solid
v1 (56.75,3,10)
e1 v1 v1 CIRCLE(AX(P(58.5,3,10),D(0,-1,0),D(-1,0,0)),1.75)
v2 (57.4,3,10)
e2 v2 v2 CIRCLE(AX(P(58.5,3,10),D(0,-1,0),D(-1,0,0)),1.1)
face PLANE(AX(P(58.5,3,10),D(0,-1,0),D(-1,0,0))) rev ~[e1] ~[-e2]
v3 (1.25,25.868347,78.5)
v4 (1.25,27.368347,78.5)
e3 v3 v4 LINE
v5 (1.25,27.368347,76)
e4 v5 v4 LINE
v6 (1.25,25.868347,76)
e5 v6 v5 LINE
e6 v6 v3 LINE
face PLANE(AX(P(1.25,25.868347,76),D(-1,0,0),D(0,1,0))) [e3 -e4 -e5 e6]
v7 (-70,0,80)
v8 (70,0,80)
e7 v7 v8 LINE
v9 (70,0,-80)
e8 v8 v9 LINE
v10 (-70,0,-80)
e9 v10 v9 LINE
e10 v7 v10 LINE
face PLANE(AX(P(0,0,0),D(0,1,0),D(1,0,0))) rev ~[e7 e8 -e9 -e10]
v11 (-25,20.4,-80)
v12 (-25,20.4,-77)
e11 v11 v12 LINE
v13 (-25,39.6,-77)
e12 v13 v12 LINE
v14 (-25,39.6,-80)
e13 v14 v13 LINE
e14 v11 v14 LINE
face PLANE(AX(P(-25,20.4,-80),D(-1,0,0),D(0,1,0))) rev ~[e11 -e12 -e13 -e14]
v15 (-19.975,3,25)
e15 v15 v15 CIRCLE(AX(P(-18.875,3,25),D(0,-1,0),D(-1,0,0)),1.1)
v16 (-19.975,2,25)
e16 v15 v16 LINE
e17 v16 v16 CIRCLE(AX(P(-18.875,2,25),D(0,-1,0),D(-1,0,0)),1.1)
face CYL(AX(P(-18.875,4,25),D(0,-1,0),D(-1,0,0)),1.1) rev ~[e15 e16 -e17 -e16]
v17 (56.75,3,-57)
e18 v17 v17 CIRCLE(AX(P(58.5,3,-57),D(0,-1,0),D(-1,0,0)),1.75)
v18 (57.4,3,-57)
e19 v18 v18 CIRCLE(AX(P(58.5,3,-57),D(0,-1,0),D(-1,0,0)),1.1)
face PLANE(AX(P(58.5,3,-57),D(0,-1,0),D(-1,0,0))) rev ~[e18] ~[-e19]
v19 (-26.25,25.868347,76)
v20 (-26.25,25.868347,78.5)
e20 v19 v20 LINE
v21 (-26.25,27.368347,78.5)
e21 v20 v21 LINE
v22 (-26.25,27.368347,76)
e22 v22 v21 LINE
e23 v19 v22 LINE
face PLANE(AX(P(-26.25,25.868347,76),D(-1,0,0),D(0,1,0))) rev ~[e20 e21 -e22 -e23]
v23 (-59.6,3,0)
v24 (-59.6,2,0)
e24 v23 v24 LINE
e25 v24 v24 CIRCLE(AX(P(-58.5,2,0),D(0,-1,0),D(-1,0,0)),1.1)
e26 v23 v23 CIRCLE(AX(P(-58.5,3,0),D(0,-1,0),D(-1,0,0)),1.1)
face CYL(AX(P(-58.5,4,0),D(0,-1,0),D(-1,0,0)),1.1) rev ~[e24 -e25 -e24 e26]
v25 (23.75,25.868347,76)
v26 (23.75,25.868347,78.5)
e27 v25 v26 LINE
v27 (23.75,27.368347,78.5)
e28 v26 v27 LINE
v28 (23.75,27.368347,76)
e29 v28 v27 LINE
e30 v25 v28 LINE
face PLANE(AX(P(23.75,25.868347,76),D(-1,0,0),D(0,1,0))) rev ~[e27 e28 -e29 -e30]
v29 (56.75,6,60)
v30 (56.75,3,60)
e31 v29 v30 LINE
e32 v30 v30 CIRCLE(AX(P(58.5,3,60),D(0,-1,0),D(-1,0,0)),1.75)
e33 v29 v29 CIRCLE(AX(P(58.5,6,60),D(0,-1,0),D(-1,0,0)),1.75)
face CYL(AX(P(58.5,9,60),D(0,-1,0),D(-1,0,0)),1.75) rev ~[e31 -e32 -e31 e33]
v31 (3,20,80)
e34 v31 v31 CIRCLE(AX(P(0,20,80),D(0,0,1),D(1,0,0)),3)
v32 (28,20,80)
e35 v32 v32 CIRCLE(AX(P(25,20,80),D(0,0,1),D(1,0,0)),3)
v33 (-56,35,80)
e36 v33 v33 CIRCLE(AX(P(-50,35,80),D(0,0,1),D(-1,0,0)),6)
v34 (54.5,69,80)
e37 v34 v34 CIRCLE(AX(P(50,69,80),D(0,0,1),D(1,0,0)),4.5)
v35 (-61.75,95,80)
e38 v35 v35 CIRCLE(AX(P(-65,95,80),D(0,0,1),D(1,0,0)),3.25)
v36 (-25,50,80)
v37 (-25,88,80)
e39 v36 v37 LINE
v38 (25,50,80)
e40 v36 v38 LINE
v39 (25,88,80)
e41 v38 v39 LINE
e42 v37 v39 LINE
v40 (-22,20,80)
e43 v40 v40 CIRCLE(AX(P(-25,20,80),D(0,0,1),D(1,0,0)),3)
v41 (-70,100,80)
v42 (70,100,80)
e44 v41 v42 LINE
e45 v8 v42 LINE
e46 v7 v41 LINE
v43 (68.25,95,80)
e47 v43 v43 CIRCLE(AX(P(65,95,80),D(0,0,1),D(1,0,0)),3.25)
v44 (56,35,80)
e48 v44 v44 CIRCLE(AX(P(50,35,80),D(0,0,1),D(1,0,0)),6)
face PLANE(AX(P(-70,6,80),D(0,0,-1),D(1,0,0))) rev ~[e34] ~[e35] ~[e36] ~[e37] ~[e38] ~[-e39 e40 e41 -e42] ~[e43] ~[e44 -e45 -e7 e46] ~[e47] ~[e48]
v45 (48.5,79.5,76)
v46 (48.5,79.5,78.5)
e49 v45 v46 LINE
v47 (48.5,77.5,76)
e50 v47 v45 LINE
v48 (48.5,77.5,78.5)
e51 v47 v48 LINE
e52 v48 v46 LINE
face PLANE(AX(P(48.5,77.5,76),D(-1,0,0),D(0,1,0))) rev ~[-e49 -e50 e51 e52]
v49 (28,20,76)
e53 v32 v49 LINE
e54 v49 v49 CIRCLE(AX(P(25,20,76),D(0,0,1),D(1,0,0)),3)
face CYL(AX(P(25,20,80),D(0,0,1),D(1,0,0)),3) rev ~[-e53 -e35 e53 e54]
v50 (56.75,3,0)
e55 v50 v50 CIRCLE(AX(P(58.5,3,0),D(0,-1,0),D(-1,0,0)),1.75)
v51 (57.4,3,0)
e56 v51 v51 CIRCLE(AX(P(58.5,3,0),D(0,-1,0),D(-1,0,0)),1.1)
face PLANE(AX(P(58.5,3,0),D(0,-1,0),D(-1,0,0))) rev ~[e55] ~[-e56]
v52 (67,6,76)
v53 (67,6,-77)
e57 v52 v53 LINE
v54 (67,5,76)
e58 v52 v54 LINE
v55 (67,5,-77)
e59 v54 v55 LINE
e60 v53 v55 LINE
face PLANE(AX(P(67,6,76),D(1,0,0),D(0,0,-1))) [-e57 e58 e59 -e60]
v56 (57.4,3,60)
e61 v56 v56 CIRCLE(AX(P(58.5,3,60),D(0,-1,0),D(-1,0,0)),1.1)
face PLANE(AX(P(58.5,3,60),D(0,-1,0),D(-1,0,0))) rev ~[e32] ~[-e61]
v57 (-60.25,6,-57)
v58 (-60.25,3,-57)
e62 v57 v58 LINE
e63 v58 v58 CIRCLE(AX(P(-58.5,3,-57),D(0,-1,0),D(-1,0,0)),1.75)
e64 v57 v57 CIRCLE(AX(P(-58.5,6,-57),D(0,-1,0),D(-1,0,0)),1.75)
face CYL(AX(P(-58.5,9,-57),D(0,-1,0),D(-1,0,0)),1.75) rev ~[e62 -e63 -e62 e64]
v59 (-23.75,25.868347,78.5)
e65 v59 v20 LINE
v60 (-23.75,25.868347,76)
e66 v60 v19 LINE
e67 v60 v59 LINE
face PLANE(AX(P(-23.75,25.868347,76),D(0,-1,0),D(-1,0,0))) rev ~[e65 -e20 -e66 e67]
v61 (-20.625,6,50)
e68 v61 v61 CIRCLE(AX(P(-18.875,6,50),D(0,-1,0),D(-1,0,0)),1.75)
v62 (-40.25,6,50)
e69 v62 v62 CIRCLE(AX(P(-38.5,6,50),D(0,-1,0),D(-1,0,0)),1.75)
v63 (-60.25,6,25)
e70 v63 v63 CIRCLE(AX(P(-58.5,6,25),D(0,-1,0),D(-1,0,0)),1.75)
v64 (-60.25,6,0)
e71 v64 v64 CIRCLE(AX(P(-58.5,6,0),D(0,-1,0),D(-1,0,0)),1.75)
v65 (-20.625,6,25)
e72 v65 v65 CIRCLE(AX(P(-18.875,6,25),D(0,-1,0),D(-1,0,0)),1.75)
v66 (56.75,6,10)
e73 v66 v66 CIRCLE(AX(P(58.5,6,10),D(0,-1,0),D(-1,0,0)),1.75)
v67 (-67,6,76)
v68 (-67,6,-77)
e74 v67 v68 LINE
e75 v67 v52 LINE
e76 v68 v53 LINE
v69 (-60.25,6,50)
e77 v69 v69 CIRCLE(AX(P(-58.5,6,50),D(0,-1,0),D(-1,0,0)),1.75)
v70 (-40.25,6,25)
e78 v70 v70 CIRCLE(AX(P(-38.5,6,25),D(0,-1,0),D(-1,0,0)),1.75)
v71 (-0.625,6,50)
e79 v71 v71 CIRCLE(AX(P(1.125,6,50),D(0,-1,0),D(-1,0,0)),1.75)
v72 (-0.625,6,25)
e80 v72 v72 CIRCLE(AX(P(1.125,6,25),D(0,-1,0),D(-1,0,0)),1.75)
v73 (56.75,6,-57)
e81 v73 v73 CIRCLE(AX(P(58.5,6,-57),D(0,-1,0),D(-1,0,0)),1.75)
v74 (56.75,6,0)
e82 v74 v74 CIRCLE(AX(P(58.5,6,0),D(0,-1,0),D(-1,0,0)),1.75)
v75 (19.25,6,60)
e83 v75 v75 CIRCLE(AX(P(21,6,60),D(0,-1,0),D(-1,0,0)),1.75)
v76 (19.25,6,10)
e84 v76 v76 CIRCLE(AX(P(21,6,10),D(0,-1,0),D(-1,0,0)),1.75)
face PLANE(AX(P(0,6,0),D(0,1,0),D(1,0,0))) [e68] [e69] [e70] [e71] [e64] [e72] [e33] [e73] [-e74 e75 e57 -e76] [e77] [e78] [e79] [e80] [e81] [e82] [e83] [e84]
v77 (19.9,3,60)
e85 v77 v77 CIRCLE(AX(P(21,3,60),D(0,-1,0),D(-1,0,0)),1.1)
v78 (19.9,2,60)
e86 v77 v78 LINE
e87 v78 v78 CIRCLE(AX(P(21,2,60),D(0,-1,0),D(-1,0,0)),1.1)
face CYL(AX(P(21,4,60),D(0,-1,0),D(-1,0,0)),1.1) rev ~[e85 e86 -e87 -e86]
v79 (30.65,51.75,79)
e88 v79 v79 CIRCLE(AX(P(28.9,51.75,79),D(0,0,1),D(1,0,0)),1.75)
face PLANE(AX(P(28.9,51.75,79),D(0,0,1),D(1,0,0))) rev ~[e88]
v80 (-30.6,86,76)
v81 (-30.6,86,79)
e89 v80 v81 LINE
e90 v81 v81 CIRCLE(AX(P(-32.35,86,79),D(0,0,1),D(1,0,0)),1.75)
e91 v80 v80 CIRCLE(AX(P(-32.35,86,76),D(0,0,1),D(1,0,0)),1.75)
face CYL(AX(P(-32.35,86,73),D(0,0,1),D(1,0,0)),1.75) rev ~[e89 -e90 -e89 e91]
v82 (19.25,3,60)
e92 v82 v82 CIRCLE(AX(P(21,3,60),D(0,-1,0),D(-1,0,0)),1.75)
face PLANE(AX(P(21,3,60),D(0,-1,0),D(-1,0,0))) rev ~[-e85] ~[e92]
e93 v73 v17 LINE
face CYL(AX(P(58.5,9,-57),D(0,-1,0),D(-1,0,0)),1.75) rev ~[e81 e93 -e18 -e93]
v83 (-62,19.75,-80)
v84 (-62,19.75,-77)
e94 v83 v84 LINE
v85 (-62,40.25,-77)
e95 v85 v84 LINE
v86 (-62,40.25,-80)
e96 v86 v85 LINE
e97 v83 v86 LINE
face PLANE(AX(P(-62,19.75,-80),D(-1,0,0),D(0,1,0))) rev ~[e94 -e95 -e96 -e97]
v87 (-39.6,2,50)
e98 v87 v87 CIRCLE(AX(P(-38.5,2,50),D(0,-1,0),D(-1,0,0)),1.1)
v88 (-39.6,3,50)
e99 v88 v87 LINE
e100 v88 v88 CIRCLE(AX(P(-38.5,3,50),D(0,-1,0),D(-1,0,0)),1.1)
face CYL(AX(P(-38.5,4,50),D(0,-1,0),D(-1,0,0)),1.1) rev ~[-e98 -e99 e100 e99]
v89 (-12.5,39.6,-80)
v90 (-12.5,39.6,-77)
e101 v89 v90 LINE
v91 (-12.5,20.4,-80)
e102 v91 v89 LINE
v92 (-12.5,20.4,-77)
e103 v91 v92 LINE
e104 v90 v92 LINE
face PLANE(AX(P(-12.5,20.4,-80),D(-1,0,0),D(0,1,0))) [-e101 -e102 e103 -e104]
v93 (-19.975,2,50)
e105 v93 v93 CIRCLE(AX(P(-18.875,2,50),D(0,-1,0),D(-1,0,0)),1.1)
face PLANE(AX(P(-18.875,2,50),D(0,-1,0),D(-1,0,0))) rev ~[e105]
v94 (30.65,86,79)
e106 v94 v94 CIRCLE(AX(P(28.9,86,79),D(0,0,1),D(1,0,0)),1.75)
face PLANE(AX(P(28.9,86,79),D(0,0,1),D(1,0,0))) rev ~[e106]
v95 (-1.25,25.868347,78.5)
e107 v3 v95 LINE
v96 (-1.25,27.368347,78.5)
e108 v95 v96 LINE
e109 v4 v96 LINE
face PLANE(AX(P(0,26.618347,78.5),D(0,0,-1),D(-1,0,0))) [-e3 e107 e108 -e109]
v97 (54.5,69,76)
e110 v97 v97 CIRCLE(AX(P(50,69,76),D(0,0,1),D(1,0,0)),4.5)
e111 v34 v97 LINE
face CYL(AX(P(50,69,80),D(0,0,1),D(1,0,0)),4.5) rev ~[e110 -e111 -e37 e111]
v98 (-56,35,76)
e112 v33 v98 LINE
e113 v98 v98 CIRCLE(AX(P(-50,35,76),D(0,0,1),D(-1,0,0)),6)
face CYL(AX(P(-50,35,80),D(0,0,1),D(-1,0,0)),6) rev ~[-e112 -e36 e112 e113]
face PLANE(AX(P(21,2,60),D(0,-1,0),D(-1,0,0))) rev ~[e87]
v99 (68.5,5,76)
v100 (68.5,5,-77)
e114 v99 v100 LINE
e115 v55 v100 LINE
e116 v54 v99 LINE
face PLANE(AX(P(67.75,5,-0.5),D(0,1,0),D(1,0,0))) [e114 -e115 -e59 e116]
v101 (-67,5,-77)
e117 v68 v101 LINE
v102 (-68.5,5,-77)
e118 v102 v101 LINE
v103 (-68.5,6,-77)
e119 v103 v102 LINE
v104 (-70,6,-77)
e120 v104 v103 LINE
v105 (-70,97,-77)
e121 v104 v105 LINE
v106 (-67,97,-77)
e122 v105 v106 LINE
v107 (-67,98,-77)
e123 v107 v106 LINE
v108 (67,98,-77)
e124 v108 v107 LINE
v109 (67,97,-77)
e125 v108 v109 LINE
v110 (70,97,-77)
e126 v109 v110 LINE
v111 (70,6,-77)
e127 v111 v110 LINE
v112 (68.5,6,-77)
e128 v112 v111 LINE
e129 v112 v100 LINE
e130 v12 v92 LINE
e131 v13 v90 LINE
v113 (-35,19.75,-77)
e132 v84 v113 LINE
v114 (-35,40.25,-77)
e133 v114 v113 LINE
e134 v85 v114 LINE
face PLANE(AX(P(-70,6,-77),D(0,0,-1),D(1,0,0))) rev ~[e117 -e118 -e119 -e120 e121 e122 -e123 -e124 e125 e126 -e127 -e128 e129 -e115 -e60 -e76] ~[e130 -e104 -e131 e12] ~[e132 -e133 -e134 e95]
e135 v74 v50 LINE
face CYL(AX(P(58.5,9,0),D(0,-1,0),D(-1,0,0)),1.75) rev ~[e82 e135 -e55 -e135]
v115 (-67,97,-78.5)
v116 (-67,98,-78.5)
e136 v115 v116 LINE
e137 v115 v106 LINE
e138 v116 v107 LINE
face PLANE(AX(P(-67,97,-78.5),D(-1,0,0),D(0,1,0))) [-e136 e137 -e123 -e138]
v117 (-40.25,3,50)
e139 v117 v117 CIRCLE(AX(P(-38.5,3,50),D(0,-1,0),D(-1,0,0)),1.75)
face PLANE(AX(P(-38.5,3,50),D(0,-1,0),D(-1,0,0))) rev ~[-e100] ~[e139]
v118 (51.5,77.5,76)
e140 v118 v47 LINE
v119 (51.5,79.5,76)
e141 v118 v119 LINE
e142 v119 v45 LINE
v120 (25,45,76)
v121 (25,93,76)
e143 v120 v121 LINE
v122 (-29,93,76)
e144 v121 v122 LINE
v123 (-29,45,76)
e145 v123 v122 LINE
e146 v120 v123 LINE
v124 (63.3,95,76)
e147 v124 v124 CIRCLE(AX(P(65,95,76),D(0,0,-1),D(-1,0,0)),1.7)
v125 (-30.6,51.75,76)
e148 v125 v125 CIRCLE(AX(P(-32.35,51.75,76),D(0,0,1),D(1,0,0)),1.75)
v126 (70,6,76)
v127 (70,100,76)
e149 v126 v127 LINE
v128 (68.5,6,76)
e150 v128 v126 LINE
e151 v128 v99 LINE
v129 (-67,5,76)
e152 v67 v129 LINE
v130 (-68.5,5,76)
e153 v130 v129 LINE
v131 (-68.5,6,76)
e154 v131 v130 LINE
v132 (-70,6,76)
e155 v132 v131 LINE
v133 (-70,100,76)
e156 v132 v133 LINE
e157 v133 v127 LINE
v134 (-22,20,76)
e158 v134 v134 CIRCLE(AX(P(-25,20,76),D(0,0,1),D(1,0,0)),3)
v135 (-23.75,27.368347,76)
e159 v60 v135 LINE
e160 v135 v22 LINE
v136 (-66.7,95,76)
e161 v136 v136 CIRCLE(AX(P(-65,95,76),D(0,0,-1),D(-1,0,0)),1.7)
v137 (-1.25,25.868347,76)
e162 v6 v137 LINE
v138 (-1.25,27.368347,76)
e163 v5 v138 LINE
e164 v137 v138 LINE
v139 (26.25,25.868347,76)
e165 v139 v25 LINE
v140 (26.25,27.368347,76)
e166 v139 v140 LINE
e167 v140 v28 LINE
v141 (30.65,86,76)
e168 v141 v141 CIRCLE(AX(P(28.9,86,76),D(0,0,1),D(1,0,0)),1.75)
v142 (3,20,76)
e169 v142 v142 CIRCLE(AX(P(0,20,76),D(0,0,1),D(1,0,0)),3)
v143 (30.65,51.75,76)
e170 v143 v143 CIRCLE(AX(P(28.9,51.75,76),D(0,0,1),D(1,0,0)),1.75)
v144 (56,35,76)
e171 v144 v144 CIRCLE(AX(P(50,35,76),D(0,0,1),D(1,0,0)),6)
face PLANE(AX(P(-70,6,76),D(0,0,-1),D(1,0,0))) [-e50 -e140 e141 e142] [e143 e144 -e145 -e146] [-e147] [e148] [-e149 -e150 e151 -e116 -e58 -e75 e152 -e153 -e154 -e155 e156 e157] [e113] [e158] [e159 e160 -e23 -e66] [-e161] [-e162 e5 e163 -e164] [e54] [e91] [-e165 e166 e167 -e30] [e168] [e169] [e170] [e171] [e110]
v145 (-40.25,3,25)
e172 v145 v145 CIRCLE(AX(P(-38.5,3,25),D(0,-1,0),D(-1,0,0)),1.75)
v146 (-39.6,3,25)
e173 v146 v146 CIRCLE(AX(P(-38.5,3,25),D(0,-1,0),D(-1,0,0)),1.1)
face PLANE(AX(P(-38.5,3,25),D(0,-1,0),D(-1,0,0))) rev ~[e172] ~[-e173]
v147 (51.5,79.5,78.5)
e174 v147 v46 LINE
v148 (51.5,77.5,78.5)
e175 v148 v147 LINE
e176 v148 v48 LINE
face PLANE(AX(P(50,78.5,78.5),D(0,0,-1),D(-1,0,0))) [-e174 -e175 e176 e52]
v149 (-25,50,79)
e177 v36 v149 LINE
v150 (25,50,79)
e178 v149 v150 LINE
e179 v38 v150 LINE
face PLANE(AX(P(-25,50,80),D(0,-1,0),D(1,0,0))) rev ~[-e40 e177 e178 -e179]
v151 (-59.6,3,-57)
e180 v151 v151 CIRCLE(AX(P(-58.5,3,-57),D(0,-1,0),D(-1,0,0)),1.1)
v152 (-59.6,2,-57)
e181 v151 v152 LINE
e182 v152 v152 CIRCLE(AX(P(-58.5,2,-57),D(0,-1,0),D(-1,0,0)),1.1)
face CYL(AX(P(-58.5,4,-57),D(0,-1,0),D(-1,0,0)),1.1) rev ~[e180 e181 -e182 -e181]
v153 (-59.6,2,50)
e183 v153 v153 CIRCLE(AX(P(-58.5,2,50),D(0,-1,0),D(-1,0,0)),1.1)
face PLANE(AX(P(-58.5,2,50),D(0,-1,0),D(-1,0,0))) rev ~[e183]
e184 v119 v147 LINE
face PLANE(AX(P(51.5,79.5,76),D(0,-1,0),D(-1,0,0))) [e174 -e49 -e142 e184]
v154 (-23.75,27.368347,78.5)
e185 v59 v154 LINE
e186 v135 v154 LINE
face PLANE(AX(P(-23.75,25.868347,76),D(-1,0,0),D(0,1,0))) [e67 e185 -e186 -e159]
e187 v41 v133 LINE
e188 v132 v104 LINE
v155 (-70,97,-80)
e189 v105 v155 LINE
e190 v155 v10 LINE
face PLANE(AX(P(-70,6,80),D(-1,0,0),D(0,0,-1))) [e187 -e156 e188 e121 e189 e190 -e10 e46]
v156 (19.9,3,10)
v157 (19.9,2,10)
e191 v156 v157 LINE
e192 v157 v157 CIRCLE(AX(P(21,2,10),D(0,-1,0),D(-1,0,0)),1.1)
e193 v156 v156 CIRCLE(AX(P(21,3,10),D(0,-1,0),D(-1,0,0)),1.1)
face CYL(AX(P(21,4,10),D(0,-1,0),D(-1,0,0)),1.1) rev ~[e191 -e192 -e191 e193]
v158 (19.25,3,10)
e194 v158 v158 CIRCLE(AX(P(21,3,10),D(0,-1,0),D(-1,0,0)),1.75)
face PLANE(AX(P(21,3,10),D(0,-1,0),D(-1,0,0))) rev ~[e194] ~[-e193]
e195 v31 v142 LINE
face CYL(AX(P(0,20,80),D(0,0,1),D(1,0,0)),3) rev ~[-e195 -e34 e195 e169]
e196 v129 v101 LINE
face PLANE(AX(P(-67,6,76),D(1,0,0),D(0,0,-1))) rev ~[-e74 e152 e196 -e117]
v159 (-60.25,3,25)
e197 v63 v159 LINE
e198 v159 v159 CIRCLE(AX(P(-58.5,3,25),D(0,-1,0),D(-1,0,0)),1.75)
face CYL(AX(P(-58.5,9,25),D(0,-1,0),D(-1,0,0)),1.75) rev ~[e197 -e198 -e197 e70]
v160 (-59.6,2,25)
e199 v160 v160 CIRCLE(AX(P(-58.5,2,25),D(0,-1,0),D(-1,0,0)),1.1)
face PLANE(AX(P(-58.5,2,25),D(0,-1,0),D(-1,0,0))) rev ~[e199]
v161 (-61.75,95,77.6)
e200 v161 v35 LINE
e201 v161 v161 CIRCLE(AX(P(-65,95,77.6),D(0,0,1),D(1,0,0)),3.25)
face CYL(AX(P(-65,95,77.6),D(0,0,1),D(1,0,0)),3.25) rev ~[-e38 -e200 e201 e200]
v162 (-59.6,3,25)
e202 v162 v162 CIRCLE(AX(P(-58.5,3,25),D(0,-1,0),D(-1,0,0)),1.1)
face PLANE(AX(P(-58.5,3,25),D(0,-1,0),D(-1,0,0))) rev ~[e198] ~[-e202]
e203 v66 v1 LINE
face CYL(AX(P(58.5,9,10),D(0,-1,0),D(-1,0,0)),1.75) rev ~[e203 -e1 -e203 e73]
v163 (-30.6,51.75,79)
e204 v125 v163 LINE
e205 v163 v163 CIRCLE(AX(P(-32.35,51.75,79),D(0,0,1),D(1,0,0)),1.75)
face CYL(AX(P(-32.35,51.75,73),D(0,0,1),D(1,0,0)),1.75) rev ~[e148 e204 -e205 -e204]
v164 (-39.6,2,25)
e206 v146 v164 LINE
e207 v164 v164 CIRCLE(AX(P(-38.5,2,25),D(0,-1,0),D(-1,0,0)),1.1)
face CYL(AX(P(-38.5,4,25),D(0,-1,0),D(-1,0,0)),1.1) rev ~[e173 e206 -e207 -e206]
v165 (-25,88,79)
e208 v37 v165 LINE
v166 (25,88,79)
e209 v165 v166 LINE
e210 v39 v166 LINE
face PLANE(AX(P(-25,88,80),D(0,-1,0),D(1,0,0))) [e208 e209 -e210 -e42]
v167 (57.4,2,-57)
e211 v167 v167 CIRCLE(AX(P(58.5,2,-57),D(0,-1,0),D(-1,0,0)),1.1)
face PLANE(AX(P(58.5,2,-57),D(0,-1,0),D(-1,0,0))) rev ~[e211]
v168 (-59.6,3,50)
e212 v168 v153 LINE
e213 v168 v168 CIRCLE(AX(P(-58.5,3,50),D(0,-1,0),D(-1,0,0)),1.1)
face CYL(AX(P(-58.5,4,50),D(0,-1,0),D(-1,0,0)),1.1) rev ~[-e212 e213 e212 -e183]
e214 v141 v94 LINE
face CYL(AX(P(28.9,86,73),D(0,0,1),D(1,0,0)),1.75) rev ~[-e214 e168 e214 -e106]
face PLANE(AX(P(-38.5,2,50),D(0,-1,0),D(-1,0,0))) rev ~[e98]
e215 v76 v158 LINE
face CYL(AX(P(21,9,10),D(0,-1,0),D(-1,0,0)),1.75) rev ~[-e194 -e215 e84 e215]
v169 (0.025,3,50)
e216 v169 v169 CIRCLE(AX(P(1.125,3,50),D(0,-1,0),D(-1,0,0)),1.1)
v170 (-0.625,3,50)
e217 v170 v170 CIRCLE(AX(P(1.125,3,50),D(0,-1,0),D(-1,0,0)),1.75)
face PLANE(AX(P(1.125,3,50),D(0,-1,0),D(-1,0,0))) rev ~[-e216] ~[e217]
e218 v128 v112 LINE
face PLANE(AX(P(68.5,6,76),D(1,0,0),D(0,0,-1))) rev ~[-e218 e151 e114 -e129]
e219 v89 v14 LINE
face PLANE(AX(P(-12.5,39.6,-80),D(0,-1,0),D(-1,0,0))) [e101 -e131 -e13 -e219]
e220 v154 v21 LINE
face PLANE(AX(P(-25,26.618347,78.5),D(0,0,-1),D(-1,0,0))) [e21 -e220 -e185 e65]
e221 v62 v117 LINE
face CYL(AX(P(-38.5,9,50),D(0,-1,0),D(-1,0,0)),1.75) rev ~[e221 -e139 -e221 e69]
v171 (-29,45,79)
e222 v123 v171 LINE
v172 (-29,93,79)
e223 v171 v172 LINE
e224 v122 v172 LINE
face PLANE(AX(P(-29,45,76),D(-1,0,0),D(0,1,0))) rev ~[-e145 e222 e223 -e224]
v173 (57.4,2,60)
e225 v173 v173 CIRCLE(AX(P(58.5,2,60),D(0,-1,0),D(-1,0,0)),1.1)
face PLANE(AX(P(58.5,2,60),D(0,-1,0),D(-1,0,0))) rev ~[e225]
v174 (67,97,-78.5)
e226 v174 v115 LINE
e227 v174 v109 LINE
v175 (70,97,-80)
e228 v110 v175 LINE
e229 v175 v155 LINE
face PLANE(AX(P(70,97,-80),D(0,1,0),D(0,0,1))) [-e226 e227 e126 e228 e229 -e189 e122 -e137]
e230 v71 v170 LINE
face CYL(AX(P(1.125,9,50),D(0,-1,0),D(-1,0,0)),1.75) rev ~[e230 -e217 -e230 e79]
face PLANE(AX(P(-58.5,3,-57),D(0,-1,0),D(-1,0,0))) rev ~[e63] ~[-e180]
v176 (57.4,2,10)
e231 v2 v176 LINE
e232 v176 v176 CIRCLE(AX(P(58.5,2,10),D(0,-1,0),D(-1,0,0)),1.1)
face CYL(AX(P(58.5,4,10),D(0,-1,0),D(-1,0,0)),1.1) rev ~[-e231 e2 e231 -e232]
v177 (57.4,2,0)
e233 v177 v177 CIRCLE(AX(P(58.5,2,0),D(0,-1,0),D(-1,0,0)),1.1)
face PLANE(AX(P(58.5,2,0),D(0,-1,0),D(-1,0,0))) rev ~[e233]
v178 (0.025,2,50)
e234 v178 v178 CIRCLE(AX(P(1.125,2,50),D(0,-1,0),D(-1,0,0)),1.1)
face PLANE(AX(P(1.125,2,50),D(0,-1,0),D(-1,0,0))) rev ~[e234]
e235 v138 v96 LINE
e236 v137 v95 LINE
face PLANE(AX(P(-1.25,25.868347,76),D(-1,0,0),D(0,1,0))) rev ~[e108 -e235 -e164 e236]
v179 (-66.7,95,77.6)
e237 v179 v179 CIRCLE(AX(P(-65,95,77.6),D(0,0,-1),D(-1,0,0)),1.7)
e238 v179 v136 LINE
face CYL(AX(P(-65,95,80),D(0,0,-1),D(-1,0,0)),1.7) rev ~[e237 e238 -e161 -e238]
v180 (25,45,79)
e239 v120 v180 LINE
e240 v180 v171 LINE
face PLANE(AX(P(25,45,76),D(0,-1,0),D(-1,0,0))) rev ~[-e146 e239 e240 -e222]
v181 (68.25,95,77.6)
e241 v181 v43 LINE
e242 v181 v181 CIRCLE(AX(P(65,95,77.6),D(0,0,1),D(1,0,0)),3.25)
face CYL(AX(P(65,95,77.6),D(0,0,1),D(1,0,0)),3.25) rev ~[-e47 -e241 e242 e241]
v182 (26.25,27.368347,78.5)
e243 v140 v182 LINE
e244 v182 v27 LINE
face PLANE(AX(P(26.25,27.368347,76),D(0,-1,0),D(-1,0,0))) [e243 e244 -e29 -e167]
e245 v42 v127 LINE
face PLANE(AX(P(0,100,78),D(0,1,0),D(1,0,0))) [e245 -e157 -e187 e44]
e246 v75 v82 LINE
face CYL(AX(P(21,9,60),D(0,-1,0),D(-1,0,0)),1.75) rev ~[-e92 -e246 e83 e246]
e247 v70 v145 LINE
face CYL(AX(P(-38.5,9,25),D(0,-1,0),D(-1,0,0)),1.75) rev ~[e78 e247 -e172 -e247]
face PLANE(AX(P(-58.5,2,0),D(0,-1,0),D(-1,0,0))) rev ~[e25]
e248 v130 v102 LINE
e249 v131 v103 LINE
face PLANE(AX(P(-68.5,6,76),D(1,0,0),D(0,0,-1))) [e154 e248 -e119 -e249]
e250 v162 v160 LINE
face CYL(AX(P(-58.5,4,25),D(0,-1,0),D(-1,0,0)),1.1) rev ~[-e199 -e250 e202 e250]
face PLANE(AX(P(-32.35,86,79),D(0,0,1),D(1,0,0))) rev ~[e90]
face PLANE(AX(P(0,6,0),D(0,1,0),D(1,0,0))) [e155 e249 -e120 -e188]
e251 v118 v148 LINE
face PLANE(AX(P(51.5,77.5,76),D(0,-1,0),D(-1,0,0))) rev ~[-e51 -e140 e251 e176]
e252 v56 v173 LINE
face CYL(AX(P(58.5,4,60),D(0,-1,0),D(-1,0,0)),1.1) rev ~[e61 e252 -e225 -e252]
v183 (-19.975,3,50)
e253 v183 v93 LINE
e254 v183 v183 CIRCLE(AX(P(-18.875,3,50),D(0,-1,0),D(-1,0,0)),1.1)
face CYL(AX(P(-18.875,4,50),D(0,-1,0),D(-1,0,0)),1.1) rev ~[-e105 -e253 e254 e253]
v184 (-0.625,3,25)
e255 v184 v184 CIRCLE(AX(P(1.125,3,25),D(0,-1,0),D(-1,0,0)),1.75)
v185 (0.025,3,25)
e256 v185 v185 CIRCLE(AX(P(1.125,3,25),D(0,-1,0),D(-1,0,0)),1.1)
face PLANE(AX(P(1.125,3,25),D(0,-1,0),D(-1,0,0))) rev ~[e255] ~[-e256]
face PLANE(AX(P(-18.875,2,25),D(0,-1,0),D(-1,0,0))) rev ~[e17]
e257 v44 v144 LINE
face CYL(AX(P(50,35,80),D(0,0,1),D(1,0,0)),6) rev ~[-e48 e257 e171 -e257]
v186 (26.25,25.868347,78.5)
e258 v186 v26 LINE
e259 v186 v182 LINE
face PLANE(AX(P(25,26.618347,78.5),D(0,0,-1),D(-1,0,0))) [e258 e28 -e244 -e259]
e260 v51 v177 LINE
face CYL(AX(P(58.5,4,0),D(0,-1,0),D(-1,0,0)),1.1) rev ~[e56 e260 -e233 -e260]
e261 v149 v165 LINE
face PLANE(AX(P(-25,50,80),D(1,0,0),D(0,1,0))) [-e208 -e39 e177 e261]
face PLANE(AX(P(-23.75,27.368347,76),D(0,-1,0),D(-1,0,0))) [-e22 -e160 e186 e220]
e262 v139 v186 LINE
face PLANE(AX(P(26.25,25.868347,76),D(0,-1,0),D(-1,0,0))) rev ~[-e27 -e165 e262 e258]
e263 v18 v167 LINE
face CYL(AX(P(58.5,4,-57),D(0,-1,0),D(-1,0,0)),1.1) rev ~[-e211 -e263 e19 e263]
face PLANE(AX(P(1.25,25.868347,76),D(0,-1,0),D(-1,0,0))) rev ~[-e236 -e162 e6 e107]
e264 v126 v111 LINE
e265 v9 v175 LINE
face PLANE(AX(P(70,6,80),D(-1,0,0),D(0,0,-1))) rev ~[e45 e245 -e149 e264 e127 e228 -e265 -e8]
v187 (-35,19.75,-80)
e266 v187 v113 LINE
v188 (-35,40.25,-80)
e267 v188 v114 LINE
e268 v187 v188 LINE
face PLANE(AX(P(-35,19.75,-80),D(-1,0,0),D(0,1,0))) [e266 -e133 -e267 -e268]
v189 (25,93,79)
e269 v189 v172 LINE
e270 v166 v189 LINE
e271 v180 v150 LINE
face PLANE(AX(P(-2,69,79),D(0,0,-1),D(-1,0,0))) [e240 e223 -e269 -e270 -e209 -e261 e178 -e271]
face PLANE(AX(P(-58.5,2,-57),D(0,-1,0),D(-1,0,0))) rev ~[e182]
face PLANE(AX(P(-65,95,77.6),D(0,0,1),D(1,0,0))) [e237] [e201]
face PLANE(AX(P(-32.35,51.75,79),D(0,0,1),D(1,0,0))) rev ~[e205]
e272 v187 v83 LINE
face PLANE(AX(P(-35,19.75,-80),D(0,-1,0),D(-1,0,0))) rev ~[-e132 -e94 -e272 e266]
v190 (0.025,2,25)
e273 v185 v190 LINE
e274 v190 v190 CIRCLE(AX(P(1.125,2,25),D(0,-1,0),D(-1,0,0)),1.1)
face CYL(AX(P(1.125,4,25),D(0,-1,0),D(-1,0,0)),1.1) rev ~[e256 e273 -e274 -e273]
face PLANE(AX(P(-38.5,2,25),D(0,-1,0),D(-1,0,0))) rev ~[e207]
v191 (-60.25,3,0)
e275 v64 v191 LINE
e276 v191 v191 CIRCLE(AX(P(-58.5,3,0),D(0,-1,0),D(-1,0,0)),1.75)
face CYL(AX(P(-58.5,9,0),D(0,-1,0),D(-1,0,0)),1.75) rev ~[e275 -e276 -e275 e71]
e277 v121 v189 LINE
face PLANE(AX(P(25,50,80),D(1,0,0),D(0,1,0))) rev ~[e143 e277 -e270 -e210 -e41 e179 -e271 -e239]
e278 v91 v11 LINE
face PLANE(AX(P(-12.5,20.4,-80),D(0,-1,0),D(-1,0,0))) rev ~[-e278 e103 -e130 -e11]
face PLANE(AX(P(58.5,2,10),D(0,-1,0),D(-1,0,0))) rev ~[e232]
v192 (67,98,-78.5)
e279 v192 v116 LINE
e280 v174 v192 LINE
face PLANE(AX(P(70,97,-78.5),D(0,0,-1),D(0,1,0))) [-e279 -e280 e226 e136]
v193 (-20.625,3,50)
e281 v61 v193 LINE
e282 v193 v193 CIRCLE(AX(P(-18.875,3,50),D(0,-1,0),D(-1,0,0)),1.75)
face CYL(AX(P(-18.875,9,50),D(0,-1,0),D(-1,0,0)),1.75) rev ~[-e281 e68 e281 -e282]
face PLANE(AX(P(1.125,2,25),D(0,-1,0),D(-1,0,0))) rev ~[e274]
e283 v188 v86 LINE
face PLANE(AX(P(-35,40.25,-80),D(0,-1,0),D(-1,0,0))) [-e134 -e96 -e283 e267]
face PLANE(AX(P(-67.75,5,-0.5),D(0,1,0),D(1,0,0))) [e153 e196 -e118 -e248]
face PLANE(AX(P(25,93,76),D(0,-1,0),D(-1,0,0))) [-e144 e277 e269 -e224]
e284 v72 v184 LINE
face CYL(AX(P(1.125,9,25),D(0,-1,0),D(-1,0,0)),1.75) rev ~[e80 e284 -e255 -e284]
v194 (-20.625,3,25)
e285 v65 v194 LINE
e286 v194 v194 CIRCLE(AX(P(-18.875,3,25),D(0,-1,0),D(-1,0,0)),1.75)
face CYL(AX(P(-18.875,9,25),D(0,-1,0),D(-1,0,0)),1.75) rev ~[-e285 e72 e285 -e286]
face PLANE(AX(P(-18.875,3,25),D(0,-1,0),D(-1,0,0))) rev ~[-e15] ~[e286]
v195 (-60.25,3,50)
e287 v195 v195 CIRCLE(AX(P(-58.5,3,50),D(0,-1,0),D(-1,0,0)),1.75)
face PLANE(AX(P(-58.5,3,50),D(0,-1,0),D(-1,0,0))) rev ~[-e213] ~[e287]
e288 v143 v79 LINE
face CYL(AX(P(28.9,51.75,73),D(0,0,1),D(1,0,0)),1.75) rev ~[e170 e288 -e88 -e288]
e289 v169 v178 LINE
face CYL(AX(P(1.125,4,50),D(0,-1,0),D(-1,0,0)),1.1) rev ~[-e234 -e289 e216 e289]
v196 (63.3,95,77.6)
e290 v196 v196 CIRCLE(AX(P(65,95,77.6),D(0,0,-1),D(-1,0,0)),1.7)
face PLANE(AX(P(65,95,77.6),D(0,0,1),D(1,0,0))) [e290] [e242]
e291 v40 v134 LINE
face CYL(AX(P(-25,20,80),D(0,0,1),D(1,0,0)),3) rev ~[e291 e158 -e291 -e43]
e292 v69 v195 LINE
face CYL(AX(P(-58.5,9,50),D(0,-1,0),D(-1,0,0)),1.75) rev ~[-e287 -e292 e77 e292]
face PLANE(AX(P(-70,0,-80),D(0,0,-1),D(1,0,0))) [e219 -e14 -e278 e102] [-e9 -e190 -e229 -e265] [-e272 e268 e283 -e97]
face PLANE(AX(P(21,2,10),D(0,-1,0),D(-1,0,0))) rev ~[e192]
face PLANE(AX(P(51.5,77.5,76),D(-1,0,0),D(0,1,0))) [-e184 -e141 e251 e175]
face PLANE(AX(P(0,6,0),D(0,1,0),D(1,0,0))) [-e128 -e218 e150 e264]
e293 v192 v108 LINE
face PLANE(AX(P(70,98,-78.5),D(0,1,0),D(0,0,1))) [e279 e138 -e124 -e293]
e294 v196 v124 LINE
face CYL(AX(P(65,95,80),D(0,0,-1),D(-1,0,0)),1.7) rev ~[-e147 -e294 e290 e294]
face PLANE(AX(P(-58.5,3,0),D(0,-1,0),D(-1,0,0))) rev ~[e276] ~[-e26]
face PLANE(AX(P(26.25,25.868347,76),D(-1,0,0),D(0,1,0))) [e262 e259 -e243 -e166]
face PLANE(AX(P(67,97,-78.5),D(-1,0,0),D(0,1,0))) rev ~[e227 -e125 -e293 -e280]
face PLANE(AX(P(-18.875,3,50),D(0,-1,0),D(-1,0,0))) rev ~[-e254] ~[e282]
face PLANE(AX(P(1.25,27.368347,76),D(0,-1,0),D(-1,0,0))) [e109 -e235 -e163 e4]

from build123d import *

# Parameters (mm, degrees)
SKETCH_1_W                  = 140
SKETCH_1_H                  = 160
EXTRUDE_1_DEPTH             = 6
SKETCH_3_W                  = 140
SKETCH_3_H                  = 4
SKETCH_3_H_2                = 3
EXTRUDE_3_DEPTH             = 94
CUT_EXTRUDE_1_DEPTH         = 190.73665961
SKETCH_5_W                  = 1.5
SKETCH_5_H                  = 153
CUT_EXTRUDE_2_DEPTH         = 1
HOLE_WIZARD_M21_D           = 3.5
HOLE_WIZARD_M21_DEPTH       = 3
CUT_EXTRUDE_3_REACH         = 203.246
SKETCH_9_R                  = 3
SKETCH_9_R_2                = 4.5
SKETCH_9_R_3                = 6
SKETCH_9_W                  = 50
SKETCH_9_H                  = 38
SKETCH_10_W                 = 54
SKETCH_10_H                 = 48
CUT_EXTRUDE_4_DEPTH         = 3
SKETCH_11_W                 = 2.5
SKETCH_11_H                 = 1.5
SKETCH_11_W_2               = 3
SKETCH_11_H_2               = 2
CUT_EXTRUDE_5_DEPTH         = 2.5
HOLE_WIZARD_M31_D           = 3.4
HOLE_WIZARD_M31_DEPTH       = 4
HOLE_WIZARD_M31_CBORE_D     = 6.5
HOLE_WIZARD_M31_CBORE_DEPTH = 2.4
CUT_EXTRUDE_6_REACH         = 203.246
SKETCH_15_W                 = 12.5
SKETCH_15_H                 = 19.2
SKETCH_15_W_2               = 27
SKETCH_15_H_2               = 20.5
HOLE_WIZARD_M22_D           = 2.2
HOLE_WIZARD_M22_DEPTH       = 1
HOLE_WIZARD_M23_D           = 3.5
HOLE_WIZARD_M23_DEPTH       = 3
CUT_EXTRUDE_7_REACH         = 202.056
SKETCH_24_W                 = 3
SKETCH_24_H                 = 1


with BuildPart() as part:
    # Эскиз1 → Бобышка-Вытянуть1 (new body)
    with BuildSketch(Plane(origin=(0, 0, 0), x_dir=(1, 0, 0), z_dir=(0, 1, 0))):
        Rectangle(SKETCH_1_W, SKETCH_1_H)
    extrude(amount=EXTRUDE_1_DEPTH)

    # Эскиз3 → Бобышка-Вытянуть3 (add)
    with BuildSketch(Plane(origin=(0, 6, 0), x_dir=(1, 0, 0), z_dir=(0, 1, 0))):
        with Locations((0, -78)):
            Rectangle(SKETCH_3_W, SKETCH_3_H)
        with Locations((0, 78.5)):
            Rectangle(SKETCH_3_W, SKETCH_3_H_2)
    extrude(amount=EXTRUDE_3_DEPTH)

    # Эскиз4 → Вырез-Вытянуть1 (cut, through all)
    with BuildSketch(Plane(origin=(70, 0, 0), x_dir=(0, 0, -1), z_dir=(1, 0, 0))):
        Polygon((80, 100), (80, 97), (78.5, 97), (78.5, 98), (77, 98), (77, 100), align=None)
    extrude(amount=-CUT_EXTRUDE_1_DEPTH, mode=Mode.SUBTRACT)

    # Эскиз5 → Вырез-Вытянуть2 (cut)
    with BuildSketch(Plane(origin=(0, 6, 0), x_dir=(1, 0, 0), z_dir=(0, 1, 0))):
        with Locations((67.75, 0.5)):
            Rectangle(SKETCH_5_W, SKETCH_5_H)
        with Locations((-67.75, 0.5)):
            Rectangle(SKETCH_5_W, SKETCH_5_H)
    extrude(amount=-CUT_EXTRUDE_2_DEPTH, mode=Mode.SUBTRACT)

    # Отверстие с зазором M21
    with Locations(Plane(origin=(0, 6, 0), x_dir=(1, 0, 0), z_dir=(0, 1, 0))):
        with Locations((-58.5, -25), (-38.5, -25), (-38.5, -50), (-58.5, -50), (-18.875, -25), (1.125, -25), (-18.875, -50), (1.125, -50), (21, -10), (21, -60), (58.5, -60), (58.5, -10), (-58.5, 57), (-58.5, 0), (58.5, 0), (58.5, 57)):
            Hole(HOLE_WIZARD_M21_D / 2, depth=HOLE_WIZARD_M21_DEPTH)

    # Эскиз9 → Вырез-Вытянуть3 (cut, up to next)
    with BuildSketch(Plane.XY.offset(80), mode=Mode.PRIVATE) as cut_extrude_3_sk1:
        with Locations((-25, 20)):
            Circle(SKETCH_9_R)
    cut_extrude_3_tool1 = extrude(cut_extrude_3_sk1.sketch, amount=-CUT_EXTRUDE_3_REACH, mode=Mode.PRIVATE) & part.part
    # Эскиз9 → Вырез-Вытянуть3 (cut, up to next)
    with BuildSketch(Plane.XY.offset(80), mode=Mode.PRIVATE) as cut_extrude_3_sk2:
        with Locations((0, 20)):
            Circle(SKETCH_9_R)
    cut_extrude_3_tool2 = extrude(cut_extrude_3_sk2.sketch, amount=-CUT_EXTRUDE_3_REACH, mode=Mode.PRIVATE) & part.part
    # Эскиз9 → Вырез-Вытянуть3 (cut, up to next)
    with BuildSketch(Plane.XY.offset(80), mode=Mode.PRIVATE) as cut_extrude_3_sk3:
        with Locations((25, 20)):
            Circle(SKETCH_9_R)
    cut_extrude_3_tool3 = extrude(cut_extrude_3_sk3.sketch, amount=-CUT_EXTRUDE_3_REACH, mode=Mode.PRIVATE) & part.part
    # Эскиз9 → Вырез-Вытянуть3 (cut, up to next)
    with BuildSketch(Plane.XY.offset(80), mode=Mode.PRIVATE) as cut_extrude_3_sk4:
        with Locations((50, 69)):
            Circle(SKETCH_9_R_2)
    cut_extrude_3_tool4 = extrude(cut_extrude_3_sk4.sketch, amount=-CUT_EXTRUDE_3_REACH, mode=Mode.PRIVATE) & part.part
    # Эскиз9 → Вырез-Вытянуть3 (cut, up to next)
    with BuildSketch(Plane.XY.offset(80), mode=Mode.PRIVATE) as cut_extrude_3_sk5:
        with Locations((50, 35)):
            Circle(SKETCH_9_R_3)
    cut_extrude_3_tool5 = extrude(cut_extrude_3_sk5.sketch, amount=-CUT_EXTRUDE_3_REACH, mode=Mode.PRIVATE) & part.part
    # Эскиз9 → Вырез-Вытянуть3 (cut, up to next)
    with BuildSketch(Plane.XY.offset(80), mode=Mode.PRIVATE) as cut_extrude_3_sk6:
        with Locations(Location((-50, 35, 0), (0, 0, 180))):
            Circle(SKETCH_9_R_3)
    cut_extrude_3_tool6 = extrude(cut_extrude_3_sk6.sketch, amount=-CUT_EXTRUDE_3_REACH, mode=Mode.PRIVATE) & part.part
    # Эскиз9 → Вырез-Вытянуть3 (cut, up to next)
    with BuildSketch(Plane.XY.offset(80), mode=Mode.PRIVATE) as cut_extrude_3_sk7:
        with Locations((0, 69)):
            Rectangle(SKETCH_9_W, SKETCH_9_H)
    cut_extrude_3_tool7 = extrude(cut_extrude_3_sk7.sketch, amount=-CUT_EXTRUDE_3_REACH, mode=Mode.PRIVATE) & part.part
    add(cut_extrude_3_tool1.solids().sort_by_distance((-25, 20, 80))[0], mode=Mode.SUBTRACT)
    add(cut_extrude_3_tool2.solids().sort_by_distance((0, 20, 80))[0], mode=Mode.SUBTRACT)
    add(cut_extrude_3_tool3.solids().sort_by_distance((25, 20, 80))[0], mode=Mode.SUBTRACT)
    add(cut_extrude_3_tool4.solids().sort_by_distance((50, 69, 80))[0], mode=Mode.SUBTRACT)
    add(cut_extrude_3_tool5.solids().sort_by_distance((50, 35, 80))[0], mode=Mode.SUBTRACT)
    add(cut_extrude_3_tool6.solids().sort_by_distance((-50, 35, 80))[0], mode=Mode.SUBTRACT)
    add(cut_extrude_3_tool7.solids().sort_by_distance((0, 69, 80))[0], mode=Mode.SUBTRACT)

    # Эскиз10 → Вырез-Вытянуть4 (cut)
    with BuildSketch(Plane(origin=(0, 0, 76), x_dir=(-1, 0, 0), z_dir=(0, 0, -1))):
        with Locations((2, 69)):
            Rectangle(SKETCH_10_W, SKETCH_10_H)
    extrude(amount=-CUT_EXTRUDE_4_DEPTH, mode=Mode.SUBTRACT)

    # Эскиз11 → Вырез-Вытянуть5 (cut)
    with BuildSketch(Plane(origin=(0, 0, 76), x_dir=(-1, 0, 0), z_dir=(0, 0, -1))):
        with Locations((0, 26.618347297)):
            Rectangle(SKETCH_11_W, SKETCH_11_H)
        with Locations((-25, 26.618347297)):
            Rectangle(SKETCH_11_W, SKETCH_11_H)
        with Locations((25, 26.618347297)):
            Rectangle(SKETCH_11_W, SKETCH_11_H)
        with Locations((-50, 78.5)):
            Rectangle(SKETCH_11_W_2, SKETCH_11_H_2)
    extrude(amount=-CUT_EXTRUDE_5_DEPTH, mode=Mode.SUBTRACT)

    # Цековка для винта с внутренним шестигранником с тонкой головкой M31
    with Locations(Plane.XY.offset(80)):
        with Locations((-65, 95), (65, 95)):
            CounterBoreHole(HOLE_WIZARD_M31_D / 2, HOLE_WIZARD_M31_CBORE_D / 2, HOLE_WIZARD_M31_CBORE_DEPTH, depth=HOLE_WIZARD_M31_DEPTH)

    # Эскиз15 → Вырез-Вытянуть6 (cut, up to next)
    with BuildSketch(Plane(origin=(0, 0, -80), x_dir=(-1, 0, 0), z_dir=(0, 0, -1)), mode=Mode.PRIVATE) as cut_extrude_6_sk1:
        with Locations((18.75, 30)):
            Rectangle(SKETCH_15_W, SKETCH_15_H)
    cut_extrude_6_tool1 = extrude(cut_extrude_6_sk1.sketch, amount=-CUT_EXTRUDE_6_REACH, mode=Mode.PRIVATE) & part.part
    # Эскиз15 → Вырез-Вытянуть6 (cut, up to next)
    with BuildSketch(Plane(origin=(0, 0, -80), x_dir=(-1, 0, 0), z_dir=(0, 0, -1)), mode=Mode.PRIVATE) as cut_extrude_6_sk2:
        with Locations((48.5, 30)):
            Rectangle(SKETCH_15_W_2, SKETCH_15_H_2)
    cut_extrude_6_tool2 = extrude(cut_extrude_6_sk2.sketch, amount=-CUT_EXTRUDE_6_REACH, mode=Mode.PRIVATE) & part.part
    add(cut_extrude_6_tool1.solids().sort_by_distance((-18.75, 30, -80))[0], mode=Mode.SUBTRACT)
    add(cut_extrude_6_tool2.solids().sort_by_distance((-48.5, 30, -80))[0], mode=Mode.SUBTRACT)

    # Отверстие с зазором M22
    with Locations(Plane(origin=(0, 3, 0), x_dir=(1, 0, 0), z_dir=(0, 1, 0))):
        with Locations((-58.5, -50), (-38.5, -50), (-18.875, -50), (1.125, -50), (1.125, -25), (-18.875, -25), (-38.5, -25), (-58.5, -25), (21, -10), (21, -60), (58.5, -60), (58.5, -10), (58.5, 0), (-58.5, 0), (58.5, 57), (-58.5, 57)):
            Hole(HOLE_WIZARD_M22_D / 2, depth=HOLE_WIZARD_M22_DEPTH)

    # Отверстие с зазором M23
    with Locations(Plane(origin=(0, 0, 76), x_dir=(-1, 0, 0), z_dir=(0, 0, -1))):
        with Locations((-28.9, 86), (-28.9, 51.75), (32.35, 86), (32.35, 51.75)):
            Hole(HOLE_WIZARD_M23_D / 2, depth=HOLE_WIZARD_M23_DEPTH)

    # Эскиз24 → Вырез-Вытянуть7 (cut, up to next)
    with BuildSketch(Plane(origin=(0, 0, -78.5), x_dir=(-1, 0, 0), z_dir=(0, 0, -1)), mode=Mode.PRIVATE) as cut_extrude_7_sk1:
        with Locations((-68.5, 97.5)):
            Rectangle(SKETCH_24_W, SKETCH_24_H)
    cut_extrude_7_tool1 = extrude(cut_extrude_7_sk1.sketch, amount=-CUT_EXTRUDE_7_REACH, mode=Mode.PRIVATE) & part.part
    # Эскиз24 → Вырез-Вытянуть7 (cut, up to next)
    with BuildSketch(Plane(origin=(0, 0, -78.5), x_dir=(-1, 0, 0), z_dir=(0, 0, -1)), mode=Mode.PRIVATE) as cut_extrude_7_sk2:
        with Locations((68.5, 97.5)):
            Rectangle(SKETCH_24_W, SKETCH_24_H)
    cut_extrude_7_tool2 = extrude(cut_extrude_7_sk2.sketch, amount=-CUT_EXTRUDE_7_REACH, mode=Mode.PRIVATE) & part.part
    add(cut_extrude_7_tool1.solids().sort_by_distance((68.5, 97.5, -78.5))[0], mode=Mode.SUBTRACT)
    add(cut_extrude_7_tool2.solids().sort_by_distance((-68.5, 97.5, -78.5))[0], mode=Mode.SUBTRACT)


solid = part.part
